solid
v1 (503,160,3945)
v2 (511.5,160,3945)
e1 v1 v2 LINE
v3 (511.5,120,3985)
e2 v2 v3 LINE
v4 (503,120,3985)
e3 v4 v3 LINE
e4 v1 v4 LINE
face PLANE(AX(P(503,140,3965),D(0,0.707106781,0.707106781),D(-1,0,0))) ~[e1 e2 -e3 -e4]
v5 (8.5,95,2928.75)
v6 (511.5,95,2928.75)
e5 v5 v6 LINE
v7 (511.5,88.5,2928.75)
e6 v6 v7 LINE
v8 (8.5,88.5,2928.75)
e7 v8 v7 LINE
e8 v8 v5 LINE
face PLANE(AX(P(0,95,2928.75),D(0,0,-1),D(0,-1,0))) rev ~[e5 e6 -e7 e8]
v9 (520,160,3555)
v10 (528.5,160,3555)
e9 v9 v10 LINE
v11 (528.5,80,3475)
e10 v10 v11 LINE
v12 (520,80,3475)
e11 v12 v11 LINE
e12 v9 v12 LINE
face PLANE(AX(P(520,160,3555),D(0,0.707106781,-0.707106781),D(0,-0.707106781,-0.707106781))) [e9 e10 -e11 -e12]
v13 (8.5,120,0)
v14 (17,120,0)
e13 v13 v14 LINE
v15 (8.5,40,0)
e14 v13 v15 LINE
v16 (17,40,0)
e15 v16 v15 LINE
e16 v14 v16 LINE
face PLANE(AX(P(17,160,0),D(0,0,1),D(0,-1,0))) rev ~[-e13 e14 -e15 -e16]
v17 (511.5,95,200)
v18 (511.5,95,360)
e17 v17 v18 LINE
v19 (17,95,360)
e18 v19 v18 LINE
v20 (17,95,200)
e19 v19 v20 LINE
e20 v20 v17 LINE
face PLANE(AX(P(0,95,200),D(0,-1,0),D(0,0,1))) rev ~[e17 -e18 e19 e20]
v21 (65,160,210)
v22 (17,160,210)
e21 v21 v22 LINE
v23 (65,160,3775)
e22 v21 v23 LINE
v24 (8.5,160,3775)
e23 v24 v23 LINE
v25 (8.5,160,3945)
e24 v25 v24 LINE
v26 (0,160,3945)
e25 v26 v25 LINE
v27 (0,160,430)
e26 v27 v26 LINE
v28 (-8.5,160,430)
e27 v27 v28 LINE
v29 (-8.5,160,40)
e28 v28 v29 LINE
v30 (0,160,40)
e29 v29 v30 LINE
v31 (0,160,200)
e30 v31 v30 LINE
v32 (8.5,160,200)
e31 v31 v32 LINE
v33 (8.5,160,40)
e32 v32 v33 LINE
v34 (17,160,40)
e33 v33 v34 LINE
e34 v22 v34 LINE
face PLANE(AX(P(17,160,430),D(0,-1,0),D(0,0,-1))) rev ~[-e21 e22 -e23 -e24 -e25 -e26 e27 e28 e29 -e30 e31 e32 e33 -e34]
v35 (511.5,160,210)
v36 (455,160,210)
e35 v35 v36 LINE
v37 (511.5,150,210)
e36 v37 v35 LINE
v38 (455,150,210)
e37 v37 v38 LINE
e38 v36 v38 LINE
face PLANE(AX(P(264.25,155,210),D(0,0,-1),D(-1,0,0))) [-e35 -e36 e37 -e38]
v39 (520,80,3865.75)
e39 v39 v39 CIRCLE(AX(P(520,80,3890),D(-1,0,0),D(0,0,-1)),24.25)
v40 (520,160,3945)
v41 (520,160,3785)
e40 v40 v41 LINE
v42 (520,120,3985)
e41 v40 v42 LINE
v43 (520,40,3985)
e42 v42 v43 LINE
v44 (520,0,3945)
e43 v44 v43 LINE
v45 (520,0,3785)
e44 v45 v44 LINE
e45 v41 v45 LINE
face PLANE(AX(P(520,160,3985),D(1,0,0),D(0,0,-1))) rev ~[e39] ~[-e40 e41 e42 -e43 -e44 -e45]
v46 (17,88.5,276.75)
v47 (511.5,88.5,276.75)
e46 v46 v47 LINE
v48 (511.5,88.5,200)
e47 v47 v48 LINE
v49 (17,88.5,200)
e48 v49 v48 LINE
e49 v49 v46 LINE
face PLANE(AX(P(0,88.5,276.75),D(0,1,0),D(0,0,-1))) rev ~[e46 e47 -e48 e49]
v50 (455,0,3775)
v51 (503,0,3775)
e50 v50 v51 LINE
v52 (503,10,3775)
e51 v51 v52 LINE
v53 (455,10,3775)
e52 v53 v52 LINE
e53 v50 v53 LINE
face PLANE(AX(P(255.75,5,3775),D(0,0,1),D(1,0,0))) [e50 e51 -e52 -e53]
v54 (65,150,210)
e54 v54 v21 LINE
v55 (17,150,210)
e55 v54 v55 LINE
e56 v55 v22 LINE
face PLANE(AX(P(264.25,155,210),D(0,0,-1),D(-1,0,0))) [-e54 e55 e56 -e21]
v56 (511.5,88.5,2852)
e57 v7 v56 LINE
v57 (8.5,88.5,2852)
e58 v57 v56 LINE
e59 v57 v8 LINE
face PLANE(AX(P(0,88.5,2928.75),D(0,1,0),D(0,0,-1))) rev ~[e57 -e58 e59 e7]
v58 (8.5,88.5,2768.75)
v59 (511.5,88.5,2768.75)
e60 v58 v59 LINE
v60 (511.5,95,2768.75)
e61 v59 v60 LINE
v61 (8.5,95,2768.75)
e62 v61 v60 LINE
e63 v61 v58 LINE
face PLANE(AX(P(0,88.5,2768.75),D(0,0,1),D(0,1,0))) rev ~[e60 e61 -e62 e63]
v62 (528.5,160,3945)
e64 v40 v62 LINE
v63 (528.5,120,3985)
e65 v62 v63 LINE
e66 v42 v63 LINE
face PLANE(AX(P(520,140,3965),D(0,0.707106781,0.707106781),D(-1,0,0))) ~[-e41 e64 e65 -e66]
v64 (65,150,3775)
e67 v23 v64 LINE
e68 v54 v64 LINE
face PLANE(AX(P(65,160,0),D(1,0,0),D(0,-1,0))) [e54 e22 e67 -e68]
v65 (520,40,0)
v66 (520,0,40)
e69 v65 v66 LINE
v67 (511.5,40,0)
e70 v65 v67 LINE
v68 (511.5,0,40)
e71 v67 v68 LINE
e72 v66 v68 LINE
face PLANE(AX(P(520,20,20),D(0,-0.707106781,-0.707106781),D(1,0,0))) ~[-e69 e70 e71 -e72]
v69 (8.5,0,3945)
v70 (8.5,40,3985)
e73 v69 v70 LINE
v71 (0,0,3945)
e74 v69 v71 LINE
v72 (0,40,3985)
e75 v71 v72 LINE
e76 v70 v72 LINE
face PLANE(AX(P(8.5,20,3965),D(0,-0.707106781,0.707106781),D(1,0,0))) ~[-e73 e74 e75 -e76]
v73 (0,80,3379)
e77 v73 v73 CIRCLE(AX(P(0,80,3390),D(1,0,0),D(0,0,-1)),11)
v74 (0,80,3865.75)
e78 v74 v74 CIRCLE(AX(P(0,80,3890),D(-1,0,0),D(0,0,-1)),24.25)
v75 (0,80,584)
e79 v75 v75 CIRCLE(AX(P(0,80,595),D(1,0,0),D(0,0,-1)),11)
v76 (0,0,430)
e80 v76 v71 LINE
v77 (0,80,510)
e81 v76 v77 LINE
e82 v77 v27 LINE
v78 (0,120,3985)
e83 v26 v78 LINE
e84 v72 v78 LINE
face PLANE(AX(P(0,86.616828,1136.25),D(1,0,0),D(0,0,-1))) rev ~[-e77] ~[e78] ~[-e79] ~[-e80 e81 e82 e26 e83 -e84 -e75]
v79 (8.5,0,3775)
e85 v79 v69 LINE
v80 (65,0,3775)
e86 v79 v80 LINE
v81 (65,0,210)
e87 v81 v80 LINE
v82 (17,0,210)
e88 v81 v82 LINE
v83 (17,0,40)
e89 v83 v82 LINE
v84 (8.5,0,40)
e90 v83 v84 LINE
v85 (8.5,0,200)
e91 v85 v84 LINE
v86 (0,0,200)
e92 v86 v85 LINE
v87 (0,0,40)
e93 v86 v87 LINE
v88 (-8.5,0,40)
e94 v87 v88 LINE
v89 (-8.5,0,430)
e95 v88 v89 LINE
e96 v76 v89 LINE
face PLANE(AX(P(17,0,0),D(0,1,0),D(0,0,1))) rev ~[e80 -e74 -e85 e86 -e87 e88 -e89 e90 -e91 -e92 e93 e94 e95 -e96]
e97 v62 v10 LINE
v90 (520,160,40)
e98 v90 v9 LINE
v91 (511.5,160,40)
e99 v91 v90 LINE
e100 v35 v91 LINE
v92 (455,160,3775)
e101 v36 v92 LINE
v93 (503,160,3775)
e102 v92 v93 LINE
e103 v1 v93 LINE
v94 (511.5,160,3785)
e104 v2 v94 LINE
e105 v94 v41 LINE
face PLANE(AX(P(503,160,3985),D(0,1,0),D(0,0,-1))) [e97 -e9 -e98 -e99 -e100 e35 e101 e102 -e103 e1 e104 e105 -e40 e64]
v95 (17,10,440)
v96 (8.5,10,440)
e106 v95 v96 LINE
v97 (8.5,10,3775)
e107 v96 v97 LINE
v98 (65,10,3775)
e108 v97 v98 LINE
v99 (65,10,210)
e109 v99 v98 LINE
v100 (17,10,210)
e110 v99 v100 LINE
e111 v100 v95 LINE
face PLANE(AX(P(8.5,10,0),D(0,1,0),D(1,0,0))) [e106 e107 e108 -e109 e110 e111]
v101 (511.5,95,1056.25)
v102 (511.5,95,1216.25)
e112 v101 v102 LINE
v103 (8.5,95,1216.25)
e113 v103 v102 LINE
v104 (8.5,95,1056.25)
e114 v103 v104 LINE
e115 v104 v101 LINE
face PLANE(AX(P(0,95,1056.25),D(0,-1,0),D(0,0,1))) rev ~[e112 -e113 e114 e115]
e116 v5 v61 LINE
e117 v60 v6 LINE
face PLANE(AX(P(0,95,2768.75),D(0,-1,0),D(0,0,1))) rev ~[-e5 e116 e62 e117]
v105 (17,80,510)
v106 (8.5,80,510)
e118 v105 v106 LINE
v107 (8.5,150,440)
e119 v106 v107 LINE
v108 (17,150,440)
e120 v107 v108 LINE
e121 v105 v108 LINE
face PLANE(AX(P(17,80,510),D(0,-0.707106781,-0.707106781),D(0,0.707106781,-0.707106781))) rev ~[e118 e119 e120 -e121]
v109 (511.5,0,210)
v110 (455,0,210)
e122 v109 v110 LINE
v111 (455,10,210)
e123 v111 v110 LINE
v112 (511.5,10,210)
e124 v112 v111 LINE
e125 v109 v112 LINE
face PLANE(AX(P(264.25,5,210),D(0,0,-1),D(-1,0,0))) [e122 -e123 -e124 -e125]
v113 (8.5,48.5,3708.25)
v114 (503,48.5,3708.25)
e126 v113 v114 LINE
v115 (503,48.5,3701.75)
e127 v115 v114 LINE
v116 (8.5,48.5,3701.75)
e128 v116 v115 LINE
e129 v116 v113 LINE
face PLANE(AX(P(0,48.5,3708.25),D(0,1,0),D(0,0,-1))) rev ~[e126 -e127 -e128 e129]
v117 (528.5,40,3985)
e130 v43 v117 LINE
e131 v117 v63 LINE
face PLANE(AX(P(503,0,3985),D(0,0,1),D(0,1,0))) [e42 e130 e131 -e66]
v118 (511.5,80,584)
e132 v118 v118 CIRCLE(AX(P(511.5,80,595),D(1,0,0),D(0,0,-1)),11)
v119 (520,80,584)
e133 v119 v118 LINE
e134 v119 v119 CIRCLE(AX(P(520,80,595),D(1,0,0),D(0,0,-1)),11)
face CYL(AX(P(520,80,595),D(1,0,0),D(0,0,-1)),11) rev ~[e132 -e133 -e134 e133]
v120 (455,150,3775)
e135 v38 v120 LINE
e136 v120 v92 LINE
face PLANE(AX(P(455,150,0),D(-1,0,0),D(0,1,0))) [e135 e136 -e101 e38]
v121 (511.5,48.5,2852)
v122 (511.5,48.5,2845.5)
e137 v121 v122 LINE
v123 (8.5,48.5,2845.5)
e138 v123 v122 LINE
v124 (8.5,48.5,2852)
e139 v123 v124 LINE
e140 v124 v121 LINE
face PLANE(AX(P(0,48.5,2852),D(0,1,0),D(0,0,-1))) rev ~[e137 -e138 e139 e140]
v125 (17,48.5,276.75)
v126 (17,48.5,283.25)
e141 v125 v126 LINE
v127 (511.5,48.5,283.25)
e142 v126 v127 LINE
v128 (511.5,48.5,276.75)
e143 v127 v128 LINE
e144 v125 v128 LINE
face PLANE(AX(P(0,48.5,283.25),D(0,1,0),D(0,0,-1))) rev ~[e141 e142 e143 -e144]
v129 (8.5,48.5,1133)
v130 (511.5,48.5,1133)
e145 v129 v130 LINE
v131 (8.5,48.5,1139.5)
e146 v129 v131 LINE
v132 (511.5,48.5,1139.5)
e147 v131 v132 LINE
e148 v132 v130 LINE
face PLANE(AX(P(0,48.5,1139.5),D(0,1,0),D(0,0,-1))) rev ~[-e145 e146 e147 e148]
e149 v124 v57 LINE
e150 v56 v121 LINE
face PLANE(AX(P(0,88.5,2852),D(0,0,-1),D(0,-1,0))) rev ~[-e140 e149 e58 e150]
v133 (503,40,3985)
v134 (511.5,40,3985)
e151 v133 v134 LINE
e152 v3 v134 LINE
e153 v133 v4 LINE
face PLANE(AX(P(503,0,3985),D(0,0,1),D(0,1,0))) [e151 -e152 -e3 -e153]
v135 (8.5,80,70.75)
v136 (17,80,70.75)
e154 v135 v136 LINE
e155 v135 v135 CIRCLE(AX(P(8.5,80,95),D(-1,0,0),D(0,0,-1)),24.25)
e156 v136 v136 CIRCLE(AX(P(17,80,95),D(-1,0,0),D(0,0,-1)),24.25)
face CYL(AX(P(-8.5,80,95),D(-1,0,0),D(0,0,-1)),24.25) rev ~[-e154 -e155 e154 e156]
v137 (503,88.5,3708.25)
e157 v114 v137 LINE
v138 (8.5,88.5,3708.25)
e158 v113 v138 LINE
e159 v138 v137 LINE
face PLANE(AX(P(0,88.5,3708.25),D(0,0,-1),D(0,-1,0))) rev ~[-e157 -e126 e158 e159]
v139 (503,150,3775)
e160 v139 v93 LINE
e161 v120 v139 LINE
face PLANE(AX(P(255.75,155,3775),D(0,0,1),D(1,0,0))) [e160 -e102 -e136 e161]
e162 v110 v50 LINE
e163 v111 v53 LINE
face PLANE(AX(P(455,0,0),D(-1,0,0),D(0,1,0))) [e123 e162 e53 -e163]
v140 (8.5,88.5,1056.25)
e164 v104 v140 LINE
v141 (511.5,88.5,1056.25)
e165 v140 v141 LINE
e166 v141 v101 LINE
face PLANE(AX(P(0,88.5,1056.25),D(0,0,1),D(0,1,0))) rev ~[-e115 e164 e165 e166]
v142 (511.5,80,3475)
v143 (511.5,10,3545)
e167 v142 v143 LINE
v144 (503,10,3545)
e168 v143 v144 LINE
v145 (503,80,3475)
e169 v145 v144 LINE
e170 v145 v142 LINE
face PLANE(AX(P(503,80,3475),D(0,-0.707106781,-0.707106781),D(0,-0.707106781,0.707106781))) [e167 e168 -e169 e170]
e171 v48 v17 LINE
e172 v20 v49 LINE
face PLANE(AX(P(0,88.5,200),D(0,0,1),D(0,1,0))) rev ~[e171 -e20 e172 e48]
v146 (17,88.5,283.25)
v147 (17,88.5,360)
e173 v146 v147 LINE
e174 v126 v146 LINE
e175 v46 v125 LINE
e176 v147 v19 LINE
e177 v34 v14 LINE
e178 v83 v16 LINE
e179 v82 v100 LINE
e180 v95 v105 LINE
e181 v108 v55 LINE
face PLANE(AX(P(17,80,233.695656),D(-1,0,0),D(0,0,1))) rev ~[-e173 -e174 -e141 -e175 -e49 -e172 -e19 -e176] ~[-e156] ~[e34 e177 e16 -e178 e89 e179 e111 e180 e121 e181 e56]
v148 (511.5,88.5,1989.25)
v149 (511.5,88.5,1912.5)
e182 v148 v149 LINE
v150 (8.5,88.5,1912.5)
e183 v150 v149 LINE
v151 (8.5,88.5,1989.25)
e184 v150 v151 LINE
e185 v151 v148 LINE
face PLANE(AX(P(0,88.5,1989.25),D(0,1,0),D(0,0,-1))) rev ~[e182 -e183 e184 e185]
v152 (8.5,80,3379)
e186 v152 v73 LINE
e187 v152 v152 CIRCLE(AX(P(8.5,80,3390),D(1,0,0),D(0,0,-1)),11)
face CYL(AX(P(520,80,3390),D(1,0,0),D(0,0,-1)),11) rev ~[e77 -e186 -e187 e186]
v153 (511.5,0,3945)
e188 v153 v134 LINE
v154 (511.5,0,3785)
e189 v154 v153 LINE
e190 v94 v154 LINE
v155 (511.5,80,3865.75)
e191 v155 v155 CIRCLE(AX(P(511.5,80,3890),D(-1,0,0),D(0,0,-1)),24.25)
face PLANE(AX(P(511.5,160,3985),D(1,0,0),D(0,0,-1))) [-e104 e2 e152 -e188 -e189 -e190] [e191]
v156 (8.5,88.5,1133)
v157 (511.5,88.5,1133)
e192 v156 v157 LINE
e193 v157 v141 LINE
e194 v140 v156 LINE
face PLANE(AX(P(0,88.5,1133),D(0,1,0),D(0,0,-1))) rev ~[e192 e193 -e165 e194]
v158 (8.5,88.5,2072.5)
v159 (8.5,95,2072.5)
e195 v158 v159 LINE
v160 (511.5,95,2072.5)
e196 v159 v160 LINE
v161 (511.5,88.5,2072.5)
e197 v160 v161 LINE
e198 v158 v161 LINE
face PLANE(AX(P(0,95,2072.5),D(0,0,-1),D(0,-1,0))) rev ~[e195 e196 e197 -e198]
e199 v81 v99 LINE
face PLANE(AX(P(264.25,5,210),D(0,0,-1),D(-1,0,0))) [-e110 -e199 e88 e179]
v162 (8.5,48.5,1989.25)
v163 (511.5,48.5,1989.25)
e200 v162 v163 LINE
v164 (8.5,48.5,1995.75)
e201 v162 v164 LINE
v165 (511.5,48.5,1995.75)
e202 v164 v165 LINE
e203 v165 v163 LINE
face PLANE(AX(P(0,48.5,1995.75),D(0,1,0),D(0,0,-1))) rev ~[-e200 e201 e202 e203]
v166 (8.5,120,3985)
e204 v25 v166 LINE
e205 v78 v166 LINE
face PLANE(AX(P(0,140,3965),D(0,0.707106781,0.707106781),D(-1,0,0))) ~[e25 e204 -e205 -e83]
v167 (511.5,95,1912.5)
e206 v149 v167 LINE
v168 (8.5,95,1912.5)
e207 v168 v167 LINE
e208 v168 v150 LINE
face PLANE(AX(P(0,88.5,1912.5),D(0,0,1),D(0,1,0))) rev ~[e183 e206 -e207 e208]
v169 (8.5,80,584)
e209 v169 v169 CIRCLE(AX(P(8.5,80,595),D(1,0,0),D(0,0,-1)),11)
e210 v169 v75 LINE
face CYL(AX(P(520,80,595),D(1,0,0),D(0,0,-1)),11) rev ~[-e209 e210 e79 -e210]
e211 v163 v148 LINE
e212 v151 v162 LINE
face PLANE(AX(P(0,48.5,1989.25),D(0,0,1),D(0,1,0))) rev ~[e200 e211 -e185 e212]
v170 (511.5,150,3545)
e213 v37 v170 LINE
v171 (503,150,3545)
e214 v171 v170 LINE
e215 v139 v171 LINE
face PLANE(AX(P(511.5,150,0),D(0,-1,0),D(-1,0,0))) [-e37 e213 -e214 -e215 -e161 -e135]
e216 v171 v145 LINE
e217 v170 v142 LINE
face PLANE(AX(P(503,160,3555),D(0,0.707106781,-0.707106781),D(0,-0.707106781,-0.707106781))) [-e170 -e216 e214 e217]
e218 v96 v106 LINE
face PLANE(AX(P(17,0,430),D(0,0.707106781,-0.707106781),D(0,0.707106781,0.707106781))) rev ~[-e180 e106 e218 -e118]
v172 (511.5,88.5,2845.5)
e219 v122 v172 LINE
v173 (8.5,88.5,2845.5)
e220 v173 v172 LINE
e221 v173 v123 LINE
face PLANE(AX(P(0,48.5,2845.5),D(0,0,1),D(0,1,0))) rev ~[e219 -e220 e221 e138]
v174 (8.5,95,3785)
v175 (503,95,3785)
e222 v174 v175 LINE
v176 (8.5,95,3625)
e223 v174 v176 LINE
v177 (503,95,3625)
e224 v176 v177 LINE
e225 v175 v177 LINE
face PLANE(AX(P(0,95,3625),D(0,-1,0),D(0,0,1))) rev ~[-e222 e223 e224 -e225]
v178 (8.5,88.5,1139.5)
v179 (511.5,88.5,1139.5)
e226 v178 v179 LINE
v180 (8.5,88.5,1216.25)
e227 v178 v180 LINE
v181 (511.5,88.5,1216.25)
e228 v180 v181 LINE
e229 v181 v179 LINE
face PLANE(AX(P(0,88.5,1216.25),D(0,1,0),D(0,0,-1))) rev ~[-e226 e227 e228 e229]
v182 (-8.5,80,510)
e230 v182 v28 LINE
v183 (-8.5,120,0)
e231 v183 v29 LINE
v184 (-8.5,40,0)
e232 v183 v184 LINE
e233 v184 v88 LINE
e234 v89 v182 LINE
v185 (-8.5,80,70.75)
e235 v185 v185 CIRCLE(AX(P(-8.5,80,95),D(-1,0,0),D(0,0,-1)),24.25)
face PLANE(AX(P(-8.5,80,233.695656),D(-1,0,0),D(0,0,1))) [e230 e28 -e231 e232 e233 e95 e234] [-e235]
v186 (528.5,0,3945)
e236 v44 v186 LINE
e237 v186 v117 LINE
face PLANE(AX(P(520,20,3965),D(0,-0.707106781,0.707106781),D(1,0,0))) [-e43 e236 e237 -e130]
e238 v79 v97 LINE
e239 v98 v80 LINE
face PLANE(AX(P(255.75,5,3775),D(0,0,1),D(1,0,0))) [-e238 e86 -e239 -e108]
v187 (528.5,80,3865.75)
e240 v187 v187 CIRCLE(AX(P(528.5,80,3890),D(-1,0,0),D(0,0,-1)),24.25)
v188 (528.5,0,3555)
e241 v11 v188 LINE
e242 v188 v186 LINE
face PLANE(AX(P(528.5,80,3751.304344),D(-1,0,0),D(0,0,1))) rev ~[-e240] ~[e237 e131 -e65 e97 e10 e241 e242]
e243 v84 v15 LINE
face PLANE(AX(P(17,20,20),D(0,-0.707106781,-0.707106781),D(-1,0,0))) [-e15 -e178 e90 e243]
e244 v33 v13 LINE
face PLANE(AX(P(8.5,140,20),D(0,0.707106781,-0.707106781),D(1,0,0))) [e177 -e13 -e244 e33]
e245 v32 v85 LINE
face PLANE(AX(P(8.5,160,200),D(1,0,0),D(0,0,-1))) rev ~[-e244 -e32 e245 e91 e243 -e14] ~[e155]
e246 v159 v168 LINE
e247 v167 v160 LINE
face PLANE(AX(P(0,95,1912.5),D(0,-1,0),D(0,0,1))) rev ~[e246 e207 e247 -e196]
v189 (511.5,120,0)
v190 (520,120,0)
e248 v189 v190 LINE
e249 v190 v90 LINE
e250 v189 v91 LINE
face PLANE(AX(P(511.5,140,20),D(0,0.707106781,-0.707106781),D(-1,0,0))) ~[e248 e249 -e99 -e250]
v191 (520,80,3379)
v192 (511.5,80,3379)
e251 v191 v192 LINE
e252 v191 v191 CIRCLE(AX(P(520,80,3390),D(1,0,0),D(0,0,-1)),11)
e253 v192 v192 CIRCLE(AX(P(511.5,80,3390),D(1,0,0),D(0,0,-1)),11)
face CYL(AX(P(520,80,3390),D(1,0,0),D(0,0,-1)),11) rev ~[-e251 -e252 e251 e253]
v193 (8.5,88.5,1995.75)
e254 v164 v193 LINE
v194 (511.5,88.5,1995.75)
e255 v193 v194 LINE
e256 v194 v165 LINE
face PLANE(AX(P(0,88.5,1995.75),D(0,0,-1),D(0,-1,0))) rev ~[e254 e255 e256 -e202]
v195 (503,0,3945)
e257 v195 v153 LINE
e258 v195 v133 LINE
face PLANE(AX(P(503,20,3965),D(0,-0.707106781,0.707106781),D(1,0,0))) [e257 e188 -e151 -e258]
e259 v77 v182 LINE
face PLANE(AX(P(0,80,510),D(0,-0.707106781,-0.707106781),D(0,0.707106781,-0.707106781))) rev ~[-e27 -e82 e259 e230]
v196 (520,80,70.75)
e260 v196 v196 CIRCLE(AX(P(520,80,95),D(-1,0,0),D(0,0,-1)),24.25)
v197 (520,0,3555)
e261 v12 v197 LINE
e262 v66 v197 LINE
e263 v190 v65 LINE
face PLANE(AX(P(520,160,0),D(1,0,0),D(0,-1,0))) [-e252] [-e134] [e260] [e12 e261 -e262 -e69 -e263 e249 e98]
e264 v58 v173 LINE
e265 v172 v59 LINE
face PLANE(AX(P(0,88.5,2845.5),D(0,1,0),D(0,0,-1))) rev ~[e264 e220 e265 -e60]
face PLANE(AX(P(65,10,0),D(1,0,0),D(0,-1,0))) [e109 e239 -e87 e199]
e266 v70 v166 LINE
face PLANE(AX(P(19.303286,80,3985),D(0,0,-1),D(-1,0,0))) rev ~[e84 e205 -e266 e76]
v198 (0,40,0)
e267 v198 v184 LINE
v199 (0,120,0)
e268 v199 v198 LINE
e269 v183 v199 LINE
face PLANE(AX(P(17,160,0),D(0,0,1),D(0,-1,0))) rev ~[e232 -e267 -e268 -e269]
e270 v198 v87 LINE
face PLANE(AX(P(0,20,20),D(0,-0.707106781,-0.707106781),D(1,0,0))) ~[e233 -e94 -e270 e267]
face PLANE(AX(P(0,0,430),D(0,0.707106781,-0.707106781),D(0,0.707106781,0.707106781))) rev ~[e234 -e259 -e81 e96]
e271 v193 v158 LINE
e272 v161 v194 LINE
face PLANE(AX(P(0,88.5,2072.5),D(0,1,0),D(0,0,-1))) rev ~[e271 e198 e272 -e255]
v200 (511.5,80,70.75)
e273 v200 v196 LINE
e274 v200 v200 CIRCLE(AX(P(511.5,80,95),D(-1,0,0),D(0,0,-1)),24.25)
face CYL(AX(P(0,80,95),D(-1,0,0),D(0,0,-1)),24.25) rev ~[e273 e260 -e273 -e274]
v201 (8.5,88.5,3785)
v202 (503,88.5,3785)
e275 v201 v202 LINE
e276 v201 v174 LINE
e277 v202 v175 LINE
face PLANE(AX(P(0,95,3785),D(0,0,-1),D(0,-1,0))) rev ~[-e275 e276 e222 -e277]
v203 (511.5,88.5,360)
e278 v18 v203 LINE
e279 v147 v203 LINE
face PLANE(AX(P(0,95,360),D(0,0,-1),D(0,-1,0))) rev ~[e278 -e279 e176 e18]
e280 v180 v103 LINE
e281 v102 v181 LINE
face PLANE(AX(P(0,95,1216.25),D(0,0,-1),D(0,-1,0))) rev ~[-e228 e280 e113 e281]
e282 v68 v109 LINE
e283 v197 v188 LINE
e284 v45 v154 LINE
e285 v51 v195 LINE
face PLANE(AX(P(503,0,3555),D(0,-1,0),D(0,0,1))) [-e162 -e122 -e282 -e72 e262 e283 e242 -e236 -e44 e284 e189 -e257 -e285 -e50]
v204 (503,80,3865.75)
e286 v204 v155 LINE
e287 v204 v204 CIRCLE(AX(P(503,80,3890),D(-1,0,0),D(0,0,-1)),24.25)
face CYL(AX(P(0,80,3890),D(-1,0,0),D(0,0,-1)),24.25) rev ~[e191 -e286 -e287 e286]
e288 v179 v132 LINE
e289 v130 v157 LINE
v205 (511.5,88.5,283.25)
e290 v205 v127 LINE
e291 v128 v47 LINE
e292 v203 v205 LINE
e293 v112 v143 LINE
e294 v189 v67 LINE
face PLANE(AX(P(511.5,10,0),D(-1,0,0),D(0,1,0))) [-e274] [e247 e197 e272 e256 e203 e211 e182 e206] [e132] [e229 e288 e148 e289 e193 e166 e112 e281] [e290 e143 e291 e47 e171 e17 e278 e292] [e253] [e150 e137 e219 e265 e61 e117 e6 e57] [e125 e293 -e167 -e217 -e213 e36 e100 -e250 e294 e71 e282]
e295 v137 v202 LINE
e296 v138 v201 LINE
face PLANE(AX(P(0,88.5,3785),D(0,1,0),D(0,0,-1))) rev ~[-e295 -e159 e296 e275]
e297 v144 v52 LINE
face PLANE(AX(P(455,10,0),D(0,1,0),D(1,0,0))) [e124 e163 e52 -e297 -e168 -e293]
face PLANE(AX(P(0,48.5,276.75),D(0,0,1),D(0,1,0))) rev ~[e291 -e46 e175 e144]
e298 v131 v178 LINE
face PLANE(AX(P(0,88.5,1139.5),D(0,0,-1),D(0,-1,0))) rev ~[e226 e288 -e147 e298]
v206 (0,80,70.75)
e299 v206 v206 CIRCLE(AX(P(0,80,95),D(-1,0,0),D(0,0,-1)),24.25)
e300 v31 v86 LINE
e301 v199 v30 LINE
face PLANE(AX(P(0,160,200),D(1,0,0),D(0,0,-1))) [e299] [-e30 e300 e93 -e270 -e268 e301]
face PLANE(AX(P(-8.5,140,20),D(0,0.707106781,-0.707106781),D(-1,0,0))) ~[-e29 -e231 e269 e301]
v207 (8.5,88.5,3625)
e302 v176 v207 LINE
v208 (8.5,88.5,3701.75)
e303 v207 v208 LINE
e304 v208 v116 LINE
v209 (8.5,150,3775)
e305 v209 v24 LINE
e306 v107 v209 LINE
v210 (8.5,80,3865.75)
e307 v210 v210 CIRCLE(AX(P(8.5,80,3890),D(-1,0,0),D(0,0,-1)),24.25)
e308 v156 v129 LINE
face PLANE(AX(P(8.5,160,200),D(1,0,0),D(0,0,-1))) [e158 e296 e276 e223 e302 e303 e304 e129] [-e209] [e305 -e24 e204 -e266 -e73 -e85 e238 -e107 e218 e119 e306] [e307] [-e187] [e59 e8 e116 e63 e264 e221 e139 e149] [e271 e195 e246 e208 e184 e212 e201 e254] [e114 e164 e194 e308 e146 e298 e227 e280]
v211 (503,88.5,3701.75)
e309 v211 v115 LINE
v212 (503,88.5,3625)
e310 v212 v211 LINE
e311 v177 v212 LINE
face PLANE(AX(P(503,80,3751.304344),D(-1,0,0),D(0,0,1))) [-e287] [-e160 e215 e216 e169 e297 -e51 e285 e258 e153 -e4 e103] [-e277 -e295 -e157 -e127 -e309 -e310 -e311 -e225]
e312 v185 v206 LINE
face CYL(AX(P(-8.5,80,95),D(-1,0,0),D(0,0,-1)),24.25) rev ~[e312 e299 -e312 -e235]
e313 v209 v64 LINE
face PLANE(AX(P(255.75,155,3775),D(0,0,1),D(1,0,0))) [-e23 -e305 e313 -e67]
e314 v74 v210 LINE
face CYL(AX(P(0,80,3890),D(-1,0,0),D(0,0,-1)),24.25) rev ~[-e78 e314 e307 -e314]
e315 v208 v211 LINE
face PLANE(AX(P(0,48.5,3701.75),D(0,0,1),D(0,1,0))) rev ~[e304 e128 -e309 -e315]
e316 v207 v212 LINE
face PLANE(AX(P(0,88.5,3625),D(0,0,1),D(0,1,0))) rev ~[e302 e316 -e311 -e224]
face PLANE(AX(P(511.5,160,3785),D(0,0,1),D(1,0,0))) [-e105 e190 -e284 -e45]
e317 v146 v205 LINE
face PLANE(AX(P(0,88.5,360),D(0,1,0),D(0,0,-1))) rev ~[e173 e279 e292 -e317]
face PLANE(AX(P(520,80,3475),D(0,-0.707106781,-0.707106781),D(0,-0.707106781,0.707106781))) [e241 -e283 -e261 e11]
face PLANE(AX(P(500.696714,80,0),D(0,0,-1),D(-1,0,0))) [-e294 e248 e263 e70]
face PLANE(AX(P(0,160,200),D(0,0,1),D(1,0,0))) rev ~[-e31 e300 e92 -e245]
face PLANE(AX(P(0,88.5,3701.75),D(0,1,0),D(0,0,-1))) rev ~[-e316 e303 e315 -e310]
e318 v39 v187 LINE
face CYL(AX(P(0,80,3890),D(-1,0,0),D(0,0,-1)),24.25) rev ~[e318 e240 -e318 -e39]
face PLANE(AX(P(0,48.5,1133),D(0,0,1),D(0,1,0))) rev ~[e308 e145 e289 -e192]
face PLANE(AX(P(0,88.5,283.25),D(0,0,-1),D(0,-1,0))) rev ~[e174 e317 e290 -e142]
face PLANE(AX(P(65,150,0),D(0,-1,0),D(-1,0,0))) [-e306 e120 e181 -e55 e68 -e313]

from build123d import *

# Parameters (mm, degrees)
EXTRUDE_1_DEPTH        = 3985
EXTRUDE_1_2_DEPTH      = 3985
EXTRUDE_3_DEPTH        = 520
SKETCH_6_W             = 503
SKETCH_6_H             = 200
CUT_EXTRUDE_4_DEPTH    = 4022.96780196
PATTERN_LINEAR_1_COUNT = 5
PATTERN_LINEAR_1_PITCH = 856.25
EXTRUDE_11_DEPTH       = 8.5
PATTERN_LINEAR_2_COUNT = 2
PATTERN_LINEAR_2_PITCH = 17
SKETCH_22_W            = 8.5
SKETCH_22_H            = 200
CUT_EXTRUDE_12_DEPTH   = 4024.075595859
SKETCH_23_R            = 24.25
CUT_EXTRUDE_13_DEPTH   = 4024.075595859
EXTRUDE_14_DEPTH       = 8.5
PATTERN_LINEAR_3_COUNT = 2
PATTERN_LINEAR_3_PITCH = 17
SKETCH_27_W            = 8.5
SKETCH_27_H            = 200
CUT_EXTRUDE_15_DEPTH   = 4024.075595859
SKETCH_28_R            = 24.25
CUT_EXTRUDE_16_DEPTH   = 4025.201038716
SKETCH_29_W            = 494.5
SKETCH_29_H            = 10
CUT_EXTRUDE_17_DEPTH   = 10
SKETCH_30_W            = 494.5
SKETCH_30_H            = 10
CUT_EXTRUDE_18_DEPTH   = 10
SKETCH_31_R            = 11
CUT_EXTRUDE_19_DEPTH   = 4024.075595859
CHAMFER_1_SIZE         = 40


with BuildPart() as part:
    # 草图2 → 拉伸1 (new body)
    with BuildSketch(Plane.XY):
        Polygon((0, 0), (0, 160), (65, 160), (65, 150), (8.5, 150), (8.5, 10), (65, 10), (65, 0), align=None)
    extrude(amount=EXTRUDE_1_DEPTH)



with BuildPart() as body_2:
    # 草图2 → Extrude 1 2 (new body)
    with BuildSketch(Plane.XY):
        Polygon((455, 160), (520, 160), (520, 0), (455, 0), (455, 10), (511.5, 10), (511.5, 150), (455, 150), align=None)
    extrude(amount=EXTRUDE_1_2_DEPTH)


with BuildPart() as part_1:
    add(part.part)

    add(body_2.part)  # 拉伸3 merges body 2
    # 草图5 → 拉伸3 (add)
    with BuildSketch(Plane.ZY):
        Polygon((200, 95), (360, 95), (360, 88.5), (283.25, 88.5), (283.25, 48.5), (276.75, 48.5), (276.75, 88.5), (200, 88.5), align=None)
    extrude_3 = extrude(amount=-EXTRUDE_3_DEPTH)

    # 草图6 → 拉伸4 (cut, through all)
    with BuildSketch(Plane(origin=(0, 160, 0), x_dir=(1, 0, 0), z_dir=(0, 1, 0))):
        with Locations((260, -100)):
            Rectangle(SKETCH_6_W, SKETCH_6_H)
        with Locations((260, -3885)):
            Rectangle(SKETCH_6_W, SKETCH_6_H)
    extrude(amount=-CUT_EXTRUDE_4_DEPTH, mode=Mode.SUBTRACT)

    # 阵列(线性)1: 拉伸3 ×5
    with Locations(*[(0, 0, i * PATTERN_LINEAR_1_PITCH) for i in range(1, PATTERN_LINEAR_1_COUNT)]):
        add(extrude_3)

    # 草图19 → 拉伸11 (add)
    with BuildSketch(Plane(origin=(520, 0, 0), x_dir=(0, 0, -1), z_dir=(1, 0, 0))):
        Polygon((-3985, 160), (-3555, 160), (-3475, 80), (-3555, 0), (-3985, 0), align=None)
    extrude_11 = extrude(amount=EXTRUDE_11_DEPTH)

    # 阵列(线性)2: 拉伸11 ×2
    with Locations(*[(-i * PATTERN_LINEAR_2_PITCH, 0, 0) for i in range(1, PATTERN_LINEAR_2_COUNT)]):
        add(extrude_11)

    # 草图22 → 拉伸12 (cut, through all)
    with BuildSketch(Plane(origin=(0, 160, 0), x_dir=(1, 0, 0), z_dir=(0, 1, 0))):
        with Locations((515.75, -3885)):
            Rectangle(SKETCH_22_W, SKETCH_22_H)
    extrude(amount=-CUT_EXTRUDE_12_DEPTH, mode=Mode.SUBTRACT)

    # 草图23 → 拉伸13 (cut, through all)
    with BuildSketch(Plane.ZY):
        with Locations(Location((95, 80, 0), (0, 0, 180))):
            Circle(SKETCH_23_R)
        with Locations(Location((3890, 80, 0), (0, 0, 180))):
            Circle(SKETCH_23_R)
    extrude(amount=-CUT_EXTRUDE_13_DEPTH, mode=Mode.SUBTRACT)

    # 草图26 → 拉伸14 (add)
    with BuildSketch(Plane.ZY):
        Polygon((0, 160), (0, 0), (430, 0), (510, 80), (430, 160), align=None)
    extrude_14 = extrude(amount=EXTRUDE_14_DEPTH)

    # 阵列(线性)3: 拉伸14 ×2
    with Locations(*[(i * PATTERN_LINEAR_3_PITCH, 0, 0) for i in range(1, PATTERN_LINEAR_3_COUNT)]):
        add(extrude_14)

    # 草图27 → 拉伸15 (cut, through all)
    with BuildSketch(Plane(origin=(0, 160, 0), x_dir=(1, 0, 0), z_dir=(0, 1, 0))):
        with Locations((4.25, -100)):
            Rectangle(SKETCH_27_W, SKETCH_27_H)
    extrude(amount=-CUT_EXTRUDE_15_DEPTH, mode=Mode.SUBTRACT)

    # 草图28 → 拉伸16 (cut, through all)
    with BuildSketch(Plane.ZY.offset(8.5)):
        with Locations(Location((95, 80, 0), (0, 0, 180))):
            Circle(SKETCH_28_R)
    extrude(amount=-CUT_EXTRUDE_16_DEPTH, mode=Mode.SUBTRACT)

    # 草图29 → 拉伸17 (cut)
    with BuildSketch(Plane.XY.offset(3785)):
        with Locations((255.75, 155)):
            Rectangle(SKETCH_29_W, SKETCH_29_H)
        with Locations((255.75, 5)):
            Rectangle(SKETCH_29_W, SKETCH_29_H)
    extrude(amount=-CUT_EXTRUDE_17_DEPTH, mode=Mode.SUBTRACT)

    # 草图30 → 拉伸18 (cut)
    with BuildSketch(Plane(origin=(0, 0, 200), x_dir=(-1, 0, 0), z_dir=(0, 0, -1))):
        with Locations((-264.25, 155)):
            Rectangle(SKETCH_30_W, SKETCH_30_H)
        with Locations((-264.25, 5)):
            Rectangle(SKETCH_30_W, SKETCH_30_H)
    extrude(amount=-CUT_EXTRUDE_18_DEPTH, mode=Mode.SUBTRACT)

    # 草图31 → 拉伸19 (cut, through all)
    with BuildSketch(Plane(origin=(520, 0, 0), x_dir=(0, 0, -1), z_dir=(1, 0, 0))):
        with Locations((-595, 80)):
            Circle(SKETCH_31_R)
        with Locations((-3390, 80)):
            Circle(SKETCH_31_R)
    extrude(amount=-CUT_EXTRUDE_19_DEPTH, mode=Mode.SUBTRACT)

    # 倒角1
    chamfer_1_edges = [part_1.edges().sort_by_distance(p)[0] for p in [
        (-4.25, 0, 0),
        (507.25, 0, 3985),
        (4.25, 160, 3985),
        (4.25, 0, 3985),
        (507.25, 160, 3985),
        (524.25, 0, 3985),
        (-4.25, 160, 0),
        (12.75, 0, 0),
        (515.75, 160, 0),
        (524.25, 160, 3985),
        (515.75, 0, 0),
        (12.75, 160, 0),
    ]]
    chamfer(chamfer_1_edges, length=CHAMFER_1_SIZE)


solid = part_1.part
